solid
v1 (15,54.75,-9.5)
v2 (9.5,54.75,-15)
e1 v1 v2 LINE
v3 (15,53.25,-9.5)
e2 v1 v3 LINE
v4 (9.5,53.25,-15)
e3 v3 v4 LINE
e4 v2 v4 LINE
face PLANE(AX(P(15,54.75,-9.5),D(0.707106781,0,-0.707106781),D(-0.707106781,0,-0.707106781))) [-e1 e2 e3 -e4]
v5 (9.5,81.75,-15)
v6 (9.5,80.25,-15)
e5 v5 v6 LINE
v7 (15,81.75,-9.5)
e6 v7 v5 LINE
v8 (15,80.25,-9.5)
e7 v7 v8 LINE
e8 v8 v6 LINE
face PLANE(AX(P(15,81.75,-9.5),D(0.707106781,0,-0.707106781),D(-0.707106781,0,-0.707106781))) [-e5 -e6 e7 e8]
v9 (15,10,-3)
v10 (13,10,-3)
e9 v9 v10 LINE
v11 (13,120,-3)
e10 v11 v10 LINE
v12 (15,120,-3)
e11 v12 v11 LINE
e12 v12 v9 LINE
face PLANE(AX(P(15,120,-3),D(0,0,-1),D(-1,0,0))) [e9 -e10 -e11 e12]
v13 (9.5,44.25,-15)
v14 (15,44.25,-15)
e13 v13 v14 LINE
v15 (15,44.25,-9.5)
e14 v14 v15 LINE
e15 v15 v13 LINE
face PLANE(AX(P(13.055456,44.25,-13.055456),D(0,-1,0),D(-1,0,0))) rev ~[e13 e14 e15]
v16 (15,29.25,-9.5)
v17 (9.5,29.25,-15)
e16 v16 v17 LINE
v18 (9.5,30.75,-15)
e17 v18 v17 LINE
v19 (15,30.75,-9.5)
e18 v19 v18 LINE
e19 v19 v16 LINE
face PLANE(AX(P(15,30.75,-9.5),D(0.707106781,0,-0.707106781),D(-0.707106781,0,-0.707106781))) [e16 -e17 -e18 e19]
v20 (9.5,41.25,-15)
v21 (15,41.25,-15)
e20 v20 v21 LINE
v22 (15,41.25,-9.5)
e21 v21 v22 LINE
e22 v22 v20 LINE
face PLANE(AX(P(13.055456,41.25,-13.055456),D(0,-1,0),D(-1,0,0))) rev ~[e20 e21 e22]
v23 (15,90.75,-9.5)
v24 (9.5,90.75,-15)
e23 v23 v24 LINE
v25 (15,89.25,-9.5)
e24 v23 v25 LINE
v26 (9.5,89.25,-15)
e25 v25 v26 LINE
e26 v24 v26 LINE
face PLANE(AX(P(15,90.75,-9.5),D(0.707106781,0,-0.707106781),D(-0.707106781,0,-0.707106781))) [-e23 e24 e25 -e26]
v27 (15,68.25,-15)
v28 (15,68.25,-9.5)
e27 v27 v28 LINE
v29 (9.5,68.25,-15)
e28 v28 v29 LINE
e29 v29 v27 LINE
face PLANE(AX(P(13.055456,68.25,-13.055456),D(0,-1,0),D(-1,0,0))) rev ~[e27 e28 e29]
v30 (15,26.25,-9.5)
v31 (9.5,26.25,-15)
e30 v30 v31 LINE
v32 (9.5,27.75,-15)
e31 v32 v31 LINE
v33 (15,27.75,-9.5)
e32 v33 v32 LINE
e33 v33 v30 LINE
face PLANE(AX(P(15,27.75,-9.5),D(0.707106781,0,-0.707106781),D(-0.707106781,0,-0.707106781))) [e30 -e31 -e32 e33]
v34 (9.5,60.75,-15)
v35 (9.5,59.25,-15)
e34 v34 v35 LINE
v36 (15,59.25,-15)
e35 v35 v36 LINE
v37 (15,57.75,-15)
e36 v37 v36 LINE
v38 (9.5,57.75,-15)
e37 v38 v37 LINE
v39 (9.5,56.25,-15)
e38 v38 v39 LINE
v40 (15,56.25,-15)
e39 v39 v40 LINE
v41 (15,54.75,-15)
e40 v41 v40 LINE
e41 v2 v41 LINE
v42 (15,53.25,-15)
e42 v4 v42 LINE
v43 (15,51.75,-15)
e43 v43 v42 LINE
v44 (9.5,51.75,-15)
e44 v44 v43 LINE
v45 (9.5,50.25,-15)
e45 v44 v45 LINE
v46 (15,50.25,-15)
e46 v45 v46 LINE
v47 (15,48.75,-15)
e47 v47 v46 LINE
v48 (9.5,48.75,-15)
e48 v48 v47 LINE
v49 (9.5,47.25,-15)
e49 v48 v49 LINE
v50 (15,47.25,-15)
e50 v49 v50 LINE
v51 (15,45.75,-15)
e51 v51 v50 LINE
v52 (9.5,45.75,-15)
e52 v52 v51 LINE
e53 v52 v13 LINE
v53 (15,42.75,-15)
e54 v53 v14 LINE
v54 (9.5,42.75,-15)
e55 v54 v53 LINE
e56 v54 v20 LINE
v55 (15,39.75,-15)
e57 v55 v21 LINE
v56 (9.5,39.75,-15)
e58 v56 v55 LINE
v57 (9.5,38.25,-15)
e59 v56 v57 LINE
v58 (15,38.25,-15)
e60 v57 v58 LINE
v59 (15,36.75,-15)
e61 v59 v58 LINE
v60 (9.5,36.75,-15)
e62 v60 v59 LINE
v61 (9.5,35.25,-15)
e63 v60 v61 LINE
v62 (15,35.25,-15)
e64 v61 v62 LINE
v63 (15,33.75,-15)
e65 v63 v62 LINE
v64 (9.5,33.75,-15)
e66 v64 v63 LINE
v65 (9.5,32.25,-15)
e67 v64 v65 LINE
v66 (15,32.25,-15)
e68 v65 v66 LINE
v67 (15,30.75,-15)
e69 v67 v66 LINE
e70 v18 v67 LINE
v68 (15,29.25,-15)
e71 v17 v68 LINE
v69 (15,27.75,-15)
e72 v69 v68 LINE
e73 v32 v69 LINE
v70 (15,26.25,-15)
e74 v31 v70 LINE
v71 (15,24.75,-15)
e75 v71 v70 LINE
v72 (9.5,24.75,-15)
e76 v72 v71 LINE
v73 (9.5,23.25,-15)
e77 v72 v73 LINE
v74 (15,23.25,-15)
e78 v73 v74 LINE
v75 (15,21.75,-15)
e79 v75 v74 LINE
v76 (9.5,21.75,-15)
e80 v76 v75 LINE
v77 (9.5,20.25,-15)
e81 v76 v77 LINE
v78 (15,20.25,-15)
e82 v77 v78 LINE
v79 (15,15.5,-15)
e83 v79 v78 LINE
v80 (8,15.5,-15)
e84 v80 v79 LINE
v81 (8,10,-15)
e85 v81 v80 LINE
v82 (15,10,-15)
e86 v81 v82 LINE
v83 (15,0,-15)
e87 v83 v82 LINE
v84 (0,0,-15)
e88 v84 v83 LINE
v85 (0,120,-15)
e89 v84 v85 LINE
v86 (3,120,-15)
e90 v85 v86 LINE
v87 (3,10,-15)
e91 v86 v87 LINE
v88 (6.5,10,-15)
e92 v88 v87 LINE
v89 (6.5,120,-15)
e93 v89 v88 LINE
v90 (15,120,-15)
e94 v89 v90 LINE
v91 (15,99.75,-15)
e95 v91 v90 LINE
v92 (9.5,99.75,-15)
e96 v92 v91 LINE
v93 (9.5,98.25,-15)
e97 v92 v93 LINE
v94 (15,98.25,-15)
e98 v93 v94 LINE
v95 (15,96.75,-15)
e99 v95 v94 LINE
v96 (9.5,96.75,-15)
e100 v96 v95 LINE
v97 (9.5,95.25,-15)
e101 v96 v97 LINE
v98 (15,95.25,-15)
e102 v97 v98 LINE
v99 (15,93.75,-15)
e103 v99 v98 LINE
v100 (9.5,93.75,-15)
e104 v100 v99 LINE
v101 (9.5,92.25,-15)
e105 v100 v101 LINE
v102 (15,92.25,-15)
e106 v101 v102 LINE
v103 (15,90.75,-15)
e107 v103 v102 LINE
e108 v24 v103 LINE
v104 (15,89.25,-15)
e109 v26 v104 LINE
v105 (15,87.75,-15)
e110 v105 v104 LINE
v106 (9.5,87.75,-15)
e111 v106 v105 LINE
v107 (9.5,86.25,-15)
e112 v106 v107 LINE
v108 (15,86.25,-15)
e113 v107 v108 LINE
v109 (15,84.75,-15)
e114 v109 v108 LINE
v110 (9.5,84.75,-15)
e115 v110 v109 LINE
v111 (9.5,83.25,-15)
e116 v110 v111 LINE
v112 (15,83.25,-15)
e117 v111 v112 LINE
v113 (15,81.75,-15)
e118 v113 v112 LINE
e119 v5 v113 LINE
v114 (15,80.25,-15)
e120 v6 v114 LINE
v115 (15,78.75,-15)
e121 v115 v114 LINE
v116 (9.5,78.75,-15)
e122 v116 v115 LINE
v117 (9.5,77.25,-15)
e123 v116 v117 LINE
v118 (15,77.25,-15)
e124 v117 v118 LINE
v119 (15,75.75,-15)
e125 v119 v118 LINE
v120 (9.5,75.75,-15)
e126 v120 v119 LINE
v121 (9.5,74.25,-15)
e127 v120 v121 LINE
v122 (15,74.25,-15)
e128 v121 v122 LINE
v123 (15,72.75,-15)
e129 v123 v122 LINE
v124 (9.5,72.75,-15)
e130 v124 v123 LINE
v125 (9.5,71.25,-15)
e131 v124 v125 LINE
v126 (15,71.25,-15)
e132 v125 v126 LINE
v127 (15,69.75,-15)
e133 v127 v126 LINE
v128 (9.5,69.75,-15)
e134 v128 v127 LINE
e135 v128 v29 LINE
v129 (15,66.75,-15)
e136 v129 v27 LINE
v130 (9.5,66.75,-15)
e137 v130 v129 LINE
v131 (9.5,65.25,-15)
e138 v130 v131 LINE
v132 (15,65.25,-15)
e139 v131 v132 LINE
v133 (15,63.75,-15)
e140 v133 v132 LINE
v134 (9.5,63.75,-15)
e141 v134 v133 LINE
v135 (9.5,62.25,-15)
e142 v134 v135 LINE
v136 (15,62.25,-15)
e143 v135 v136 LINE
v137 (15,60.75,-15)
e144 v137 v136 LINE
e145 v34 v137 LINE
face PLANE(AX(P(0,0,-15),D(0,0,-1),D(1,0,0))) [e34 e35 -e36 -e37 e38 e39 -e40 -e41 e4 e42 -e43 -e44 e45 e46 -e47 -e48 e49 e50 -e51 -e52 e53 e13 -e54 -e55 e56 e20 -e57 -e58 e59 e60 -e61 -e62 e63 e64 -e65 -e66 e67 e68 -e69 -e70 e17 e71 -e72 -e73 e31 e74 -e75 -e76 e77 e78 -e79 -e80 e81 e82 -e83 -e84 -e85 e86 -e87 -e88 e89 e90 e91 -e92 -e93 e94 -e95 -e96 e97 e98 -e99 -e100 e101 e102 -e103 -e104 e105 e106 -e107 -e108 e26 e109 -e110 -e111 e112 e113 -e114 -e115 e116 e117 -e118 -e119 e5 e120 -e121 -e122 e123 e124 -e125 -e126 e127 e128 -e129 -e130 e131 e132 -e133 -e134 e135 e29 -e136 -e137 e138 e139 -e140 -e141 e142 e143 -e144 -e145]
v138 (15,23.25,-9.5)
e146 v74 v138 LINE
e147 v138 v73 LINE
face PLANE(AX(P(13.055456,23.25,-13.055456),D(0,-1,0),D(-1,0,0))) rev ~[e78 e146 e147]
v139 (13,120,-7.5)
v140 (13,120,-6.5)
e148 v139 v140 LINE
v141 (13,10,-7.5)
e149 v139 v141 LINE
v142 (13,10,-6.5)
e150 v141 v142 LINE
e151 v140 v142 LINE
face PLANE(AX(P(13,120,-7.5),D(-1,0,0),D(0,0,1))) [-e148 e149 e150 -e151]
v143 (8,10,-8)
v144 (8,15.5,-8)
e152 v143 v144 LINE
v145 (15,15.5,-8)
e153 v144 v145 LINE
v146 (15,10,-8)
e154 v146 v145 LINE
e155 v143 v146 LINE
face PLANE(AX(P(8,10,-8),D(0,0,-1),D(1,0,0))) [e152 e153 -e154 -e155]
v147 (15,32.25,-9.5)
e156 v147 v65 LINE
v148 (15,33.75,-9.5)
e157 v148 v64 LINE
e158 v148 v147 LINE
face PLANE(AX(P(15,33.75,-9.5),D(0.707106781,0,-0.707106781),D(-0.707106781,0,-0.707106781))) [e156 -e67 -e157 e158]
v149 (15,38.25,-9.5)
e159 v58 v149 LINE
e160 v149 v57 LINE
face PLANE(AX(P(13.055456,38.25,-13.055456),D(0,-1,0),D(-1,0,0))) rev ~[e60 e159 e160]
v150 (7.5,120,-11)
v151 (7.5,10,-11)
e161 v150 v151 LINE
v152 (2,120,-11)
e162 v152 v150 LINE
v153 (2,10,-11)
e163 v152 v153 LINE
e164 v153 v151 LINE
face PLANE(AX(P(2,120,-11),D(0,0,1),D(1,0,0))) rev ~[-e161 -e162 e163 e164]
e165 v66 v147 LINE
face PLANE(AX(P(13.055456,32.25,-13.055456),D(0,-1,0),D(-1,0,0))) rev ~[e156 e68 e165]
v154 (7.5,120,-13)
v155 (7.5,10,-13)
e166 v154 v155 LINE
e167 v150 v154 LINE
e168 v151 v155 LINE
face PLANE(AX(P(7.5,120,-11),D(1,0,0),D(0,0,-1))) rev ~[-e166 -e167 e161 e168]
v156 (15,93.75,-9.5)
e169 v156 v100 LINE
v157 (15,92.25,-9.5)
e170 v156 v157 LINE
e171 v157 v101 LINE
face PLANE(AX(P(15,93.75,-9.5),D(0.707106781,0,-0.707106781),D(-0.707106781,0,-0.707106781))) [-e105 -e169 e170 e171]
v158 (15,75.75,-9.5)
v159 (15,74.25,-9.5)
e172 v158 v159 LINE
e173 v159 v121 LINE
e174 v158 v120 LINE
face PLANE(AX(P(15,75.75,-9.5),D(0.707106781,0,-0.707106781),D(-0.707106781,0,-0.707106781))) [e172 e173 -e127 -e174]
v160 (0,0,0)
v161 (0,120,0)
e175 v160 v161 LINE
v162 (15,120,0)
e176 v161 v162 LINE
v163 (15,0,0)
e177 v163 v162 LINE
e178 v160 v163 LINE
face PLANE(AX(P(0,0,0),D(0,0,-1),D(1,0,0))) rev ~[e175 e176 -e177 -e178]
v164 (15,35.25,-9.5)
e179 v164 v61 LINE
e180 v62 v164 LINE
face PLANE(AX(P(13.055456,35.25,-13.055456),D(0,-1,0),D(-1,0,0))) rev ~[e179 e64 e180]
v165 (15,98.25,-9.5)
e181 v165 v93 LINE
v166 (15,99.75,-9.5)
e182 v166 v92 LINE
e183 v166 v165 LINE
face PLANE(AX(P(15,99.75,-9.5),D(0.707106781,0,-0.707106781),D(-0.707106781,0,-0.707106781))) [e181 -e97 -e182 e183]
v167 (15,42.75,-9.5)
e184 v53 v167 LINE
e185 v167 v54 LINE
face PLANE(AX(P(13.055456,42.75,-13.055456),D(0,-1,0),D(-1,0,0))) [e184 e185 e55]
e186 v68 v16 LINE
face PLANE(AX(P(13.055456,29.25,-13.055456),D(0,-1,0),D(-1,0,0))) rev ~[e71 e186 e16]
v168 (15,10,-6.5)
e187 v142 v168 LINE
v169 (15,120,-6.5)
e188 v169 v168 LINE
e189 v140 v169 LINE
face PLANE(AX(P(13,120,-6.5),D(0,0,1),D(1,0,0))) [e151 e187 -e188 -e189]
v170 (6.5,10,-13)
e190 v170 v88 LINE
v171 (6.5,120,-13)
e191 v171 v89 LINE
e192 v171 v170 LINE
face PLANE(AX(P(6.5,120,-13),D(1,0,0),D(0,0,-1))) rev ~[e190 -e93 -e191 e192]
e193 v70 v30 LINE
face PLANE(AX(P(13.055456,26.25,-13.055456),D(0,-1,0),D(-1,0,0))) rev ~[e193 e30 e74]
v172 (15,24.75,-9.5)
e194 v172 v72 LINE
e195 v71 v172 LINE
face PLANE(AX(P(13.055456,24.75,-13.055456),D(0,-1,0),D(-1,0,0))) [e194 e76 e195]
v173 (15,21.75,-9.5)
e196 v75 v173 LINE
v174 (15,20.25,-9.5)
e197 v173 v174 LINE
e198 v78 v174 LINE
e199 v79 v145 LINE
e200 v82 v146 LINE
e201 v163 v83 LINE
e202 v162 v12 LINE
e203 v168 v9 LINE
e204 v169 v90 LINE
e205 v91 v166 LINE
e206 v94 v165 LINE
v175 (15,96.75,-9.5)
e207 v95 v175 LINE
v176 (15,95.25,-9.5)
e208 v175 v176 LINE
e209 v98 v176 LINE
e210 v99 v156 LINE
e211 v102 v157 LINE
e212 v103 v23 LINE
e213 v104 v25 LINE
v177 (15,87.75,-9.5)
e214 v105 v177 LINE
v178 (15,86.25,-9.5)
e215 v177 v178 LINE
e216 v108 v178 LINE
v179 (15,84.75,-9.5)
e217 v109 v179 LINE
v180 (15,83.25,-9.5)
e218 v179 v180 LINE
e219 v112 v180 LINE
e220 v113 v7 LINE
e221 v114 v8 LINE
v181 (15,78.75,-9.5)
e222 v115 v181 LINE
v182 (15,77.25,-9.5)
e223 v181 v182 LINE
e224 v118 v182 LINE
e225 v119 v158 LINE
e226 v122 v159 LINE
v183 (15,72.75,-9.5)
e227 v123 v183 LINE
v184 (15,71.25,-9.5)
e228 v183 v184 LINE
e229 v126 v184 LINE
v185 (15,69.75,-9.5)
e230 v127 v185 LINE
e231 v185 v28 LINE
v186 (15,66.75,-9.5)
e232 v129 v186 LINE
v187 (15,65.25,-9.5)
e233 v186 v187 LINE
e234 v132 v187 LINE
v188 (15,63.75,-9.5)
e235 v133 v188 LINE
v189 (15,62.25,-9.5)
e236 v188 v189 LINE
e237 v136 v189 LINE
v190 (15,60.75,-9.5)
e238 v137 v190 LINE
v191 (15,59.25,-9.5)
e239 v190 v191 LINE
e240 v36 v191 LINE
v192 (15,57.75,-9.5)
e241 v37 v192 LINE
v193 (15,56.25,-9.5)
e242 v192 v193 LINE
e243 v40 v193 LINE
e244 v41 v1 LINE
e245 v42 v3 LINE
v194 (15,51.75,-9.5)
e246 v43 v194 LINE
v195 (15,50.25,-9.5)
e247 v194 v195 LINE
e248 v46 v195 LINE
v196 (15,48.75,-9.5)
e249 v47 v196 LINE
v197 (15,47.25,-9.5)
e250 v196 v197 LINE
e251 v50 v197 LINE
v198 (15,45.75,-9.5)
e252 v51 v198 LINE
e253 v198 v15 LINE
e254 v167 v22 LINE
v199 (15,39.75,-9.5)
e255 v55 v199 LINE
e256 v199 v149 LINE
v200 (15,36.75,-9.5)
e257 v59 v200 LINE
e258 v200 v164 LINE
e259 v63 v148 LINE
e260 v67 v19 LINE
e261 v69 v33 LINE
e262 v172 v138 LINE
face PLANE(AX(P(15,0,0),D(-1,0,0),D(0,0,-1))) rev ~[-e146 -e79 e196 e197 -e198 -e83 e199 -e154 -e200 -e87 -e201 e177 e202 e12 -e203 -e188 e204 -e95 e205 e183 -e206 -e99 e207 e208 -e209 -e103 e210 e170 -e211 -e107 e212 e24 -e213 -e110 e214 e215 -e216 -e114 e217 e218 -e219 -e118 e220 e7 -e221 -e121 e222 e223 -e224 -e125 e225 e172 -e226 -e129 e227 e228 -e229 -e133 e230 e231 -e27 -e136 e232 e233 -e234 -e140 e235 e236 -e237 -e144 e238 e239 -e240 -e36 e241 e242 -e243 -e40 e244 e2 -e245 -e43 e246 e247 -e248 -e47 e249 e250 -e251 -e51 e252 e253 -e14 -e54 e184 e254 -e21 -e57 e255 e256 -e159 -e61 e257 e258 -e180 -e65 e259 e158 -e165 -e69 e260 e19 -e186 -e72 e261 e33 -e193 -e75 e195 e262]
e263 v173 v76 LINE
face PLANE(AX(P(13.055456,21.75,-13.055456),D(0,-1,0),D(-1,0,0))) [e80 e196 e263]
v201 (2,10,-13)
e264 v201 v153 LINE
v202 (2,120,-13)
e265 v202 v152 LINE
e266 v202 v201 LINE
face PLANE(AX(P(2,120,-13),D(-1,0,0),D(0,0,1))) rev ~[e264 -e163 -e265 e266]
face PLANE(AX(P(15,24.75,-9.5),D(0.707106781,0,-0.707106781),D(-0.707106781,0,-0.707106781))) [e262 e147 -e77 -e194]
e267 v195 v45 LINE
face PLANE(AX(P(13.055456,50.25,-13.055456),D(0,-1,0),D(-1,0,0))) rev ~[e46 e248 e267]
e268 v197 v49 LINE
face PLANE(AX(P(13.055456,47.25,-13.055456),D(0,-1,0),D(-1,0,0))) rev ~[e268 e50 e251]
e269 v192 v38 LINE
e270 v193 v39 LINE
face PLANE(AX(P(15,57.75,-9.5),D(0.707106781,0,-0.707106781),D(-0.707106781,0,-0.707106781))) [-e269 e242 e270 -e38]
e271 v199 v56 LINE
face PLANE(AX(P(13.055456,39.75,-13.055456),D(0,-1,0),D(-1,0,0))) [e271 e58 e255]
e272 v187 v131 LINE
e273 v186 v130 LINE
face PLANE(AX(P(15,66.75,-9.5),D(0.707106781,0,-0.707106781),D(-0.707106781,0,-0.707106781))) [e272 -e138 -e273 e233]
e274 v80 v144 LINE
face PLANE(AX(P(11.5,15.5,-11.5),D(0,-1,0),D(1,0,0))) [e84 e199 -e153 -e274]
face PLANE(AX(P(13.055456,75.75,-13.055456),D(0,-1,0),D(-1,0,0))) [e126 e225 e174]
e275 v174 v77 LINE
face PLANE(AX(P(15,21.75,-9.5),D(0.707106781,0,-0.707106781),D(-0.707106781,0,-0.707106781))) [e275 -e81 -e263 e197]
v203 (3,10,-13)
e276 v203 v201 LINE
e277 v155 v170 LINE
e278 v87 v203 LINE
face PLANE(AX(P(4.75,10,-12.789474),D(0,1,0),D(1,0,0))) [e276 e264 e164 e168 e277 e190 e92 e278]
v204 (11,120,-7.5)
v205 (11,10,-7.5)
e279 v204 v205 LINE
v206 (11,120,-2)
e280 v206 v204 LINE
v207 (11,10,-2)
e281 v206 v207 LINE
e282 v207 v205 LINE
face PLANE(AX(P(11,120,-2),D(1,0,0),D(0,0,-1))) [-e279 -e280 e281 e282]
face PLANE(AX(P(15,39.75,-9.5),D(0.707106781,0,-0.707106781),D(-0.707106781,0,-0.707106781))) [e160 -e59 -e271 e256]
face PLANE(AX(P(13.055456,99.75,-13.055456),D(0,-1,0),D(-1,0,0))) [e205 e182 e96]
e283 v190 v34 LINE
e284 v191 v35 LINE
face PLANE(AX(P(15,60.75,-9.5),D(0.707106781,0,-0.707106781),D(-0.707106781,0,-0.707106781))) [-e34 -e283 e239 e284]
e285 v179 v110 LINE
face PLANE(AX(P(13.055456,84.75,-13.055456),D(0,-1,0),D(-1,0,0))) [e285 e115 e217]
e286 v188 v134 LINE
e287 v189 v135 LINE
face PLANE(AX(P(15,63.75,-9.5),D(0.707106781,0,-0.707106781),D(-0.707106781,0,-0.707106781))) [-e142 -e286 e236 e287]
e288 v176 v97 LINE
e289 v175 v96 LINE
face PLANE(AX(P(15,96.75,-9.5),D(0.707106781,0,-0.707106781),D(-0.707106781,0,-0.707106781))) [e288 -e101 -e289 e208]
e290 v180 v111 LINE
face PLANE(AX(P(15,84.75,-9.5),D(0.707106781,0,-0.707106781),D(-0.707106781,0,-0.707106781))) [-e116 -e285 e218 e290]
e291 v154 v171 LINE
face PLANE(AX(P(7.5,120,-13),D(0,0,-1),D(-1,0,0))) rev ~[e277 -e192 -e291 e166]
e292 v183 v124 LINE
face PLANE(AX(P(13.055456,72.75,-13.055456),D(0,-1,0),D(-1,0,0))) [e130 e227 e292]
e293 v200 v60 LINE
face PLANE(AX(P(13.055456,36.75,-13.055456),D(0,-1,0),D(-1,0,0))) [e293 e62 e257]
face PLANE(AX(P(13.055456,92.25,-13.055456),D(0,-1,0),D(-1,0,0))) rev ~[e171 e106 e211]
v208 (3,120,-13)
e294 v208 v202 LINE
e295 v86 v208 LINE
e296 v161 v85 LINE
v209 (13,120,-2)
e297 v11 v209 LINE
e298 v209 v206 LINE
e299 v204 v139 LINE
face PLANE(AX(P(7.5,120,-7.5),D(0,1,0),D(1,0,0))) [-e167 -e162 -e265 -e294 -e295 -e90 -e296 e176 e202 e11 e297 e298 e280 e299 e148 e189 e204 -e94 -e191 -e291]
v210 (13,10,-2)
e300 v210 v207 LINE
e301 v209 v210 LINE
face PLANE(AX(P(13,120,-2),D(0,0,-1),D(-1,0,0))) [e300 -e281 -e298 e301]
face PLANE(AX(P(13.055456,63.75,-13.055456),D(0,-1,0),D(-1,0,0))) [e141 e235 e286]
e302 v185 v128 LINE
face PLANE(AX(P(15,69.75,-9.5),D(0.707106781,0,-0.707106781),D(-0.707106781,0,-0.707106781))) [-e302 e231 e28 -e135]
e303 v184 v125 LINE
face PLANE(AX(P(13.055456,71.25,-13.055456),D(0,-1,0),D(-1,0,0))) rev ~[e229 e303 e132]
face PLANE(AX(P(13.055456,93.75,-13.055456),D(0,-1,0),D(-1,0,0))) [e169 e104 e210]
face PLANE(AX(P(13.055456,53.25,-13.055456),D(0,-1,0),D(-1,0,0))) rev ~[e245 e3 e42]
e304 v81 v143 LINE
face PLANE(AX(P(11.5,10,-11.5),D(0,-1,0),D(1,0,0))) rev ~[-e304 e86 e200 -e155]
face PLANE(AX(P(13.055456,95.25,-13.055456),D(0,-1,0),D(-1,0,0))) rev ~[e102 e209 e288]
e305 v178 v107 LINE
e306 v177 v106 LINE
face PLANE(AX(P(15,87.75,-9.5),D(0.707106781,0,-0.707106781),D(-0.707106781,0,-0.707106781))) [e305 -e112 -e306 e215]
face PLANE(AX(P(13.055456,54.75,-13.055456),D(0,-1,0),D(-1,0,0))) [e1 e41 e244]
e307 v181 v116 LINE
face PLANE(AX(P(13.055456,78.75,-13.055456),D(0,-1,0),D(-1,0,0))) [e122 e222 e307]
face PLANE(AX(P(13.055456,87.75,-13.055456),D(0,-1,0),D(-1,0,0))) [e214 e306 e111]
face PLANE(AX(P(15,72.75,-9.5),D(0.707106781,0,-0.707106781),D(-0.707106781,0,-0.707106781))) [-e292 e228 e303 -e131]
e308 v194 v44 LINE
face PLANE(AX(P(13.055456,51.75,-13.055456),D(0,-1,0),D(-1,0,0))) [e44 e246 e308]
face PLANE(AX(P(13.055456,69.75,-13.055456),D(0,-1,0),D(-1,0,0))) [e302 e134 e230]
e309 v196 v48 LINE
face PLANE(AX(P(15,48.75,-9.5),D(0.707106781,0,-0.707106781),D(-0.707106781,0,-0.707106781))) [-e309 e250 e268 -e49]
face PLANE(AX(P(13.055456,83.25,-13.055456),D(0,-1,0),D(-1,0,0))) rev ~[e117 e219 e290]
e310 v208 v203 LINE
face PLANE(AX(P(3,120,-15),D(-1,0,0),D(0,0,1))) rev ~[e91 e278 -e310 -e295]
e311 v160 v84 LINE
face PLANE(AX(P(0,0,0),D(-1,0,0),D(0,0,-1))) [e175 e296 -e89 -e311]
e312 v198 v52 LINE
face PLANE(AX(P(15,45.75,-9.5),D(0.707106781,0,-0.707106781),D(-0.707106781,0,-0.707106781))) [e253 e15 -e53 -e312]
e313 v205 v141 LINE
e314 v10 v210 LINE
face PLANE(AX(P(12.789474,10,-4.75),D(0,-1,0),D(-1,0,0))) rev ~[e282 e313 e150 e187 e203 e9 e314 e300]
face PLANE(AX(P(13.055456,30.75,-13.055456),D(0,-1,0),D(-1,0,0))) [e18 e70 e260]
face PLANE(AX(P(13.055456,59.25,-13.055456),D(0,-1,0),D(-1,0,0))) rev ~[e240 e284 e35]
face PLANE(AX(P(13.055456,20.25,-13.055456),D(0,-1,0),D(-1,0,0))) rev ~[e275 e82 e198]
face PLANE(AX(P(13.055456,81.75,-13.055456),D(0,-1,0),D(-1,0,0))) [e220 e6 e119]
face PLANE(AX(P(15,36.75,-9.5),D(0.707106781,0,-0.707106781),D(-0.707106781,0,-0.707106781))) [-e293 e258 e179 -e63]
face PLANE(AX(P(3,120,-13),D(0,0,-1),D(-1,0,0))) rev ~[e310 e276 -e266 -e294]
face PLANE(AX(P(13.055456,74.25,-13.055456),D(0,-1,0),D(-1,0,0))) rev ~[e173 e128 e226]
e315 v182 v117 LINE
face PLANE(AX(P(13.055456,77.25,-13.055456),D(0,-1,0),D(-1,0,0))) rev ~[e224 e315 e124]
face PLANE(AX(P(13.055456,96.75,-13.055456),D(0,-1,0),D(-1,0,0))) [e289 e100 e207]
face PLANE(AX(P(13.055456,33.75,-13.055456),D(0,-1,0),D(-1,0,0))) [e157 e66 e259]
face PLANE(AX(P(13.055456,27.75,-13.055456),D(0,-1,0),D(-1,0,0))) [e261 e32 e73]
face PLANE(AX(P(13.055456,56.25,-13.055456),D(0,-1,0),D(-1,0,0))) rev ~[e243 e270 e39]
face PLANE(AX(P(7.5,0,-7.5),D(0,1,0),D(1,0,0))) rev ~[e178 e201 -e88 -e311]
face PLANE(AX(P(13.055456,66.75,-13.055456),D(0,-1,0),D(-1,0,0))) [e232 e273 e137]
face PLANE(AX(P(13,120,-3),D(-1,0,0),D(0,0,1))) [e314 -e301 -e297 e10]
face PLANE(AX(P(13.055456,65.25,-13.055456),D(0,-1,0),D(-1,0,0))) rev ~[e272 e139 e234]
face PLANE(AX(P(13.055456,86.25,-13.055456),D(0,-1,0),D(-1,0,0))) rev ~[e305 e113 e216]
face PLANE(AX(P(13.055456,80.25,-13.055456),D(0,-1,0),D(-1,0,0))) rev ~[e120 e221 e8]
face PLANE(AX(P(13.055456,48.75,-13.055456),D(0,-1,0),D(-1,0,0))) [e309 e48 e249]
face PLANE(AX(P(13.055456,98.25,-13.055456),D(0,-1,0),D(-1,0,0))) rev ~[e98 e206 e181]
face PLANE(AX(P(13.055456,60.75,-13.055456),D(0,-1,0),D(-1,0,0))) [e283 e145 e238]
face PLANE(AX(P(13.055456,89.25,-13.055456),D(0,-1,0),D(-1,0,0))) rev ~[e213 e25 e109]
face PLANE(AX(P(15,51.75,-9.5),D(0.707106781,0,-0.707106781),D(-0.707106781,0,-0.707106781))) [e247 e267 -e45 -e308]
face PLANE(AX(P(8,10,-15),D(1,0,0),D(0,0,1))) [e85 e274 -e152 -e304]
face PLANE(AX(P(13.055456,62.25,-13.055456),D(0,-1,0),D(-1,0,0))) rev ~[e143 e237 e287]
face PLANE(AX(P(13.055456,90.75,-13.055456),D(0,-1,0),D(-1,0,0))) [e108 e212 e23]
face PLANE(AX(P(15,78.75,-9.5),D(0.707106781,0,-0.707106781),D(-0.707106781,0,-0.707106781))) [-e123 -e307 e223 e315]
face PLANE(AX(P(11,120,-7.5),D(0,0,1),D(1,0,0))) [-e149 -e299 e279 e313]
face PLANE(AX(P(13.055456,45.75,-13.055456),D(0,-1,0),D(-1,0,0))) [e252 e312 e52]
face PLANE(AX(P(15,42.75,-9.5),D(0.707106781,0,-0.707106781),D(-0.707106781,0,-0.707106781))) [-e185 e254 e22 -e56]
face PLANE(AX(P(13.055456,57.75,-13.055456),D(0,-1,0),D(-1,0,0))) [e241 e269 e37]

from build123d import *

# Parameters (mm, degrees)
SKETCH1_W           = 15
SKETCH1_H           = 15
BOSS_EXTRUDE1_DEPTH = 120
CUT_EXTRUDE1_DEPTH  = 110
CUT_EXTRUDE2_START  = -20.25
CUT_EXTRUDE2_DEPTH  = 1.5
LPATTERN1_COUNT     = 27
LPATTERN1_PITCH     = 3
CUT_EXTRUDE3_START  = -10
SKETCH6_W           = 7
SKETCH6_H           = 7
CUT_EXTRUDE3_DEPTH  = 5.5


with BuildPart() as part:
    # Sketch1 → Boss-Extrude1 (new body)
    with BuildSketch(Plane(origin=(0, 0, 0), x_dir=(1, 0, 0), z_dir=(0, 1, 0))):
        with Locations((7.5, 7.5)):
            Rectangle(SKETCH1_W, SKETCH1_H)
    extrude(amount=BOSS_EXTRUDE1_DEPTH)

    # Sketch3 → Cut-Extrude1 (cut)
    with BuildSketch(Plane(origin=(0, 120, 0), x_dir=(1, 0, 0), z_dir=(0, 1, 0))):
        Polygon((15, 3), (13, 3), (13, 2), (11, 2), (11, 7.5), (13, 7.5), (13, 6.5), (15, 6.5), align=None)
        Polygon((3, 13), (2, 13), (2, 11), (7.5, 11), (7.5, 13), (6.5, 13), (6.5, 15), (3, 15), align=None)
    extrude(amount=-CUT_EXTRUDE1_DEPTH, mode=Mode.SUBTRACT)

    # Sketch5 → Cut-Extrude2 (cut)
    with BuildSketch(Plane(origin=(0, 120, 0), x_dir=(1, 0, 0), z_dir=(0, 1, 0)).offset(CUT_EXTRUDE2_START)):
        Polygon((15, 15), (15, 9.5), (9.5, 15), align=None)
    cut_extrude2 = extrude(amount=-CUT_EXTRUDE2_DEPTH, mode=Mode.SUBTRACT)

    # LPattern1: Cut-Extrude2 ×27
    with Locations(*[(0, -i * LPATTERN1_PITCH, 0) for i in range(1, LPATTERN1_COUNT)]):
        add(cut_extrude2, mode=Mode.SUBTRACT)

    # Sketch6 → Cut-Extrude3 (cut)
    with BuildSketch(Plane.XZ.offset(CUT_EXTRUDE3_START)):
        with Locations((11.5, -11.5)):
            Rectangle(SKETCH6_W, SKETCH6_H)
    extrude(amount=-CUT_EXTRUDE3_DEPTH, mode=Mode.SUBTRACT)


solid = part.part
